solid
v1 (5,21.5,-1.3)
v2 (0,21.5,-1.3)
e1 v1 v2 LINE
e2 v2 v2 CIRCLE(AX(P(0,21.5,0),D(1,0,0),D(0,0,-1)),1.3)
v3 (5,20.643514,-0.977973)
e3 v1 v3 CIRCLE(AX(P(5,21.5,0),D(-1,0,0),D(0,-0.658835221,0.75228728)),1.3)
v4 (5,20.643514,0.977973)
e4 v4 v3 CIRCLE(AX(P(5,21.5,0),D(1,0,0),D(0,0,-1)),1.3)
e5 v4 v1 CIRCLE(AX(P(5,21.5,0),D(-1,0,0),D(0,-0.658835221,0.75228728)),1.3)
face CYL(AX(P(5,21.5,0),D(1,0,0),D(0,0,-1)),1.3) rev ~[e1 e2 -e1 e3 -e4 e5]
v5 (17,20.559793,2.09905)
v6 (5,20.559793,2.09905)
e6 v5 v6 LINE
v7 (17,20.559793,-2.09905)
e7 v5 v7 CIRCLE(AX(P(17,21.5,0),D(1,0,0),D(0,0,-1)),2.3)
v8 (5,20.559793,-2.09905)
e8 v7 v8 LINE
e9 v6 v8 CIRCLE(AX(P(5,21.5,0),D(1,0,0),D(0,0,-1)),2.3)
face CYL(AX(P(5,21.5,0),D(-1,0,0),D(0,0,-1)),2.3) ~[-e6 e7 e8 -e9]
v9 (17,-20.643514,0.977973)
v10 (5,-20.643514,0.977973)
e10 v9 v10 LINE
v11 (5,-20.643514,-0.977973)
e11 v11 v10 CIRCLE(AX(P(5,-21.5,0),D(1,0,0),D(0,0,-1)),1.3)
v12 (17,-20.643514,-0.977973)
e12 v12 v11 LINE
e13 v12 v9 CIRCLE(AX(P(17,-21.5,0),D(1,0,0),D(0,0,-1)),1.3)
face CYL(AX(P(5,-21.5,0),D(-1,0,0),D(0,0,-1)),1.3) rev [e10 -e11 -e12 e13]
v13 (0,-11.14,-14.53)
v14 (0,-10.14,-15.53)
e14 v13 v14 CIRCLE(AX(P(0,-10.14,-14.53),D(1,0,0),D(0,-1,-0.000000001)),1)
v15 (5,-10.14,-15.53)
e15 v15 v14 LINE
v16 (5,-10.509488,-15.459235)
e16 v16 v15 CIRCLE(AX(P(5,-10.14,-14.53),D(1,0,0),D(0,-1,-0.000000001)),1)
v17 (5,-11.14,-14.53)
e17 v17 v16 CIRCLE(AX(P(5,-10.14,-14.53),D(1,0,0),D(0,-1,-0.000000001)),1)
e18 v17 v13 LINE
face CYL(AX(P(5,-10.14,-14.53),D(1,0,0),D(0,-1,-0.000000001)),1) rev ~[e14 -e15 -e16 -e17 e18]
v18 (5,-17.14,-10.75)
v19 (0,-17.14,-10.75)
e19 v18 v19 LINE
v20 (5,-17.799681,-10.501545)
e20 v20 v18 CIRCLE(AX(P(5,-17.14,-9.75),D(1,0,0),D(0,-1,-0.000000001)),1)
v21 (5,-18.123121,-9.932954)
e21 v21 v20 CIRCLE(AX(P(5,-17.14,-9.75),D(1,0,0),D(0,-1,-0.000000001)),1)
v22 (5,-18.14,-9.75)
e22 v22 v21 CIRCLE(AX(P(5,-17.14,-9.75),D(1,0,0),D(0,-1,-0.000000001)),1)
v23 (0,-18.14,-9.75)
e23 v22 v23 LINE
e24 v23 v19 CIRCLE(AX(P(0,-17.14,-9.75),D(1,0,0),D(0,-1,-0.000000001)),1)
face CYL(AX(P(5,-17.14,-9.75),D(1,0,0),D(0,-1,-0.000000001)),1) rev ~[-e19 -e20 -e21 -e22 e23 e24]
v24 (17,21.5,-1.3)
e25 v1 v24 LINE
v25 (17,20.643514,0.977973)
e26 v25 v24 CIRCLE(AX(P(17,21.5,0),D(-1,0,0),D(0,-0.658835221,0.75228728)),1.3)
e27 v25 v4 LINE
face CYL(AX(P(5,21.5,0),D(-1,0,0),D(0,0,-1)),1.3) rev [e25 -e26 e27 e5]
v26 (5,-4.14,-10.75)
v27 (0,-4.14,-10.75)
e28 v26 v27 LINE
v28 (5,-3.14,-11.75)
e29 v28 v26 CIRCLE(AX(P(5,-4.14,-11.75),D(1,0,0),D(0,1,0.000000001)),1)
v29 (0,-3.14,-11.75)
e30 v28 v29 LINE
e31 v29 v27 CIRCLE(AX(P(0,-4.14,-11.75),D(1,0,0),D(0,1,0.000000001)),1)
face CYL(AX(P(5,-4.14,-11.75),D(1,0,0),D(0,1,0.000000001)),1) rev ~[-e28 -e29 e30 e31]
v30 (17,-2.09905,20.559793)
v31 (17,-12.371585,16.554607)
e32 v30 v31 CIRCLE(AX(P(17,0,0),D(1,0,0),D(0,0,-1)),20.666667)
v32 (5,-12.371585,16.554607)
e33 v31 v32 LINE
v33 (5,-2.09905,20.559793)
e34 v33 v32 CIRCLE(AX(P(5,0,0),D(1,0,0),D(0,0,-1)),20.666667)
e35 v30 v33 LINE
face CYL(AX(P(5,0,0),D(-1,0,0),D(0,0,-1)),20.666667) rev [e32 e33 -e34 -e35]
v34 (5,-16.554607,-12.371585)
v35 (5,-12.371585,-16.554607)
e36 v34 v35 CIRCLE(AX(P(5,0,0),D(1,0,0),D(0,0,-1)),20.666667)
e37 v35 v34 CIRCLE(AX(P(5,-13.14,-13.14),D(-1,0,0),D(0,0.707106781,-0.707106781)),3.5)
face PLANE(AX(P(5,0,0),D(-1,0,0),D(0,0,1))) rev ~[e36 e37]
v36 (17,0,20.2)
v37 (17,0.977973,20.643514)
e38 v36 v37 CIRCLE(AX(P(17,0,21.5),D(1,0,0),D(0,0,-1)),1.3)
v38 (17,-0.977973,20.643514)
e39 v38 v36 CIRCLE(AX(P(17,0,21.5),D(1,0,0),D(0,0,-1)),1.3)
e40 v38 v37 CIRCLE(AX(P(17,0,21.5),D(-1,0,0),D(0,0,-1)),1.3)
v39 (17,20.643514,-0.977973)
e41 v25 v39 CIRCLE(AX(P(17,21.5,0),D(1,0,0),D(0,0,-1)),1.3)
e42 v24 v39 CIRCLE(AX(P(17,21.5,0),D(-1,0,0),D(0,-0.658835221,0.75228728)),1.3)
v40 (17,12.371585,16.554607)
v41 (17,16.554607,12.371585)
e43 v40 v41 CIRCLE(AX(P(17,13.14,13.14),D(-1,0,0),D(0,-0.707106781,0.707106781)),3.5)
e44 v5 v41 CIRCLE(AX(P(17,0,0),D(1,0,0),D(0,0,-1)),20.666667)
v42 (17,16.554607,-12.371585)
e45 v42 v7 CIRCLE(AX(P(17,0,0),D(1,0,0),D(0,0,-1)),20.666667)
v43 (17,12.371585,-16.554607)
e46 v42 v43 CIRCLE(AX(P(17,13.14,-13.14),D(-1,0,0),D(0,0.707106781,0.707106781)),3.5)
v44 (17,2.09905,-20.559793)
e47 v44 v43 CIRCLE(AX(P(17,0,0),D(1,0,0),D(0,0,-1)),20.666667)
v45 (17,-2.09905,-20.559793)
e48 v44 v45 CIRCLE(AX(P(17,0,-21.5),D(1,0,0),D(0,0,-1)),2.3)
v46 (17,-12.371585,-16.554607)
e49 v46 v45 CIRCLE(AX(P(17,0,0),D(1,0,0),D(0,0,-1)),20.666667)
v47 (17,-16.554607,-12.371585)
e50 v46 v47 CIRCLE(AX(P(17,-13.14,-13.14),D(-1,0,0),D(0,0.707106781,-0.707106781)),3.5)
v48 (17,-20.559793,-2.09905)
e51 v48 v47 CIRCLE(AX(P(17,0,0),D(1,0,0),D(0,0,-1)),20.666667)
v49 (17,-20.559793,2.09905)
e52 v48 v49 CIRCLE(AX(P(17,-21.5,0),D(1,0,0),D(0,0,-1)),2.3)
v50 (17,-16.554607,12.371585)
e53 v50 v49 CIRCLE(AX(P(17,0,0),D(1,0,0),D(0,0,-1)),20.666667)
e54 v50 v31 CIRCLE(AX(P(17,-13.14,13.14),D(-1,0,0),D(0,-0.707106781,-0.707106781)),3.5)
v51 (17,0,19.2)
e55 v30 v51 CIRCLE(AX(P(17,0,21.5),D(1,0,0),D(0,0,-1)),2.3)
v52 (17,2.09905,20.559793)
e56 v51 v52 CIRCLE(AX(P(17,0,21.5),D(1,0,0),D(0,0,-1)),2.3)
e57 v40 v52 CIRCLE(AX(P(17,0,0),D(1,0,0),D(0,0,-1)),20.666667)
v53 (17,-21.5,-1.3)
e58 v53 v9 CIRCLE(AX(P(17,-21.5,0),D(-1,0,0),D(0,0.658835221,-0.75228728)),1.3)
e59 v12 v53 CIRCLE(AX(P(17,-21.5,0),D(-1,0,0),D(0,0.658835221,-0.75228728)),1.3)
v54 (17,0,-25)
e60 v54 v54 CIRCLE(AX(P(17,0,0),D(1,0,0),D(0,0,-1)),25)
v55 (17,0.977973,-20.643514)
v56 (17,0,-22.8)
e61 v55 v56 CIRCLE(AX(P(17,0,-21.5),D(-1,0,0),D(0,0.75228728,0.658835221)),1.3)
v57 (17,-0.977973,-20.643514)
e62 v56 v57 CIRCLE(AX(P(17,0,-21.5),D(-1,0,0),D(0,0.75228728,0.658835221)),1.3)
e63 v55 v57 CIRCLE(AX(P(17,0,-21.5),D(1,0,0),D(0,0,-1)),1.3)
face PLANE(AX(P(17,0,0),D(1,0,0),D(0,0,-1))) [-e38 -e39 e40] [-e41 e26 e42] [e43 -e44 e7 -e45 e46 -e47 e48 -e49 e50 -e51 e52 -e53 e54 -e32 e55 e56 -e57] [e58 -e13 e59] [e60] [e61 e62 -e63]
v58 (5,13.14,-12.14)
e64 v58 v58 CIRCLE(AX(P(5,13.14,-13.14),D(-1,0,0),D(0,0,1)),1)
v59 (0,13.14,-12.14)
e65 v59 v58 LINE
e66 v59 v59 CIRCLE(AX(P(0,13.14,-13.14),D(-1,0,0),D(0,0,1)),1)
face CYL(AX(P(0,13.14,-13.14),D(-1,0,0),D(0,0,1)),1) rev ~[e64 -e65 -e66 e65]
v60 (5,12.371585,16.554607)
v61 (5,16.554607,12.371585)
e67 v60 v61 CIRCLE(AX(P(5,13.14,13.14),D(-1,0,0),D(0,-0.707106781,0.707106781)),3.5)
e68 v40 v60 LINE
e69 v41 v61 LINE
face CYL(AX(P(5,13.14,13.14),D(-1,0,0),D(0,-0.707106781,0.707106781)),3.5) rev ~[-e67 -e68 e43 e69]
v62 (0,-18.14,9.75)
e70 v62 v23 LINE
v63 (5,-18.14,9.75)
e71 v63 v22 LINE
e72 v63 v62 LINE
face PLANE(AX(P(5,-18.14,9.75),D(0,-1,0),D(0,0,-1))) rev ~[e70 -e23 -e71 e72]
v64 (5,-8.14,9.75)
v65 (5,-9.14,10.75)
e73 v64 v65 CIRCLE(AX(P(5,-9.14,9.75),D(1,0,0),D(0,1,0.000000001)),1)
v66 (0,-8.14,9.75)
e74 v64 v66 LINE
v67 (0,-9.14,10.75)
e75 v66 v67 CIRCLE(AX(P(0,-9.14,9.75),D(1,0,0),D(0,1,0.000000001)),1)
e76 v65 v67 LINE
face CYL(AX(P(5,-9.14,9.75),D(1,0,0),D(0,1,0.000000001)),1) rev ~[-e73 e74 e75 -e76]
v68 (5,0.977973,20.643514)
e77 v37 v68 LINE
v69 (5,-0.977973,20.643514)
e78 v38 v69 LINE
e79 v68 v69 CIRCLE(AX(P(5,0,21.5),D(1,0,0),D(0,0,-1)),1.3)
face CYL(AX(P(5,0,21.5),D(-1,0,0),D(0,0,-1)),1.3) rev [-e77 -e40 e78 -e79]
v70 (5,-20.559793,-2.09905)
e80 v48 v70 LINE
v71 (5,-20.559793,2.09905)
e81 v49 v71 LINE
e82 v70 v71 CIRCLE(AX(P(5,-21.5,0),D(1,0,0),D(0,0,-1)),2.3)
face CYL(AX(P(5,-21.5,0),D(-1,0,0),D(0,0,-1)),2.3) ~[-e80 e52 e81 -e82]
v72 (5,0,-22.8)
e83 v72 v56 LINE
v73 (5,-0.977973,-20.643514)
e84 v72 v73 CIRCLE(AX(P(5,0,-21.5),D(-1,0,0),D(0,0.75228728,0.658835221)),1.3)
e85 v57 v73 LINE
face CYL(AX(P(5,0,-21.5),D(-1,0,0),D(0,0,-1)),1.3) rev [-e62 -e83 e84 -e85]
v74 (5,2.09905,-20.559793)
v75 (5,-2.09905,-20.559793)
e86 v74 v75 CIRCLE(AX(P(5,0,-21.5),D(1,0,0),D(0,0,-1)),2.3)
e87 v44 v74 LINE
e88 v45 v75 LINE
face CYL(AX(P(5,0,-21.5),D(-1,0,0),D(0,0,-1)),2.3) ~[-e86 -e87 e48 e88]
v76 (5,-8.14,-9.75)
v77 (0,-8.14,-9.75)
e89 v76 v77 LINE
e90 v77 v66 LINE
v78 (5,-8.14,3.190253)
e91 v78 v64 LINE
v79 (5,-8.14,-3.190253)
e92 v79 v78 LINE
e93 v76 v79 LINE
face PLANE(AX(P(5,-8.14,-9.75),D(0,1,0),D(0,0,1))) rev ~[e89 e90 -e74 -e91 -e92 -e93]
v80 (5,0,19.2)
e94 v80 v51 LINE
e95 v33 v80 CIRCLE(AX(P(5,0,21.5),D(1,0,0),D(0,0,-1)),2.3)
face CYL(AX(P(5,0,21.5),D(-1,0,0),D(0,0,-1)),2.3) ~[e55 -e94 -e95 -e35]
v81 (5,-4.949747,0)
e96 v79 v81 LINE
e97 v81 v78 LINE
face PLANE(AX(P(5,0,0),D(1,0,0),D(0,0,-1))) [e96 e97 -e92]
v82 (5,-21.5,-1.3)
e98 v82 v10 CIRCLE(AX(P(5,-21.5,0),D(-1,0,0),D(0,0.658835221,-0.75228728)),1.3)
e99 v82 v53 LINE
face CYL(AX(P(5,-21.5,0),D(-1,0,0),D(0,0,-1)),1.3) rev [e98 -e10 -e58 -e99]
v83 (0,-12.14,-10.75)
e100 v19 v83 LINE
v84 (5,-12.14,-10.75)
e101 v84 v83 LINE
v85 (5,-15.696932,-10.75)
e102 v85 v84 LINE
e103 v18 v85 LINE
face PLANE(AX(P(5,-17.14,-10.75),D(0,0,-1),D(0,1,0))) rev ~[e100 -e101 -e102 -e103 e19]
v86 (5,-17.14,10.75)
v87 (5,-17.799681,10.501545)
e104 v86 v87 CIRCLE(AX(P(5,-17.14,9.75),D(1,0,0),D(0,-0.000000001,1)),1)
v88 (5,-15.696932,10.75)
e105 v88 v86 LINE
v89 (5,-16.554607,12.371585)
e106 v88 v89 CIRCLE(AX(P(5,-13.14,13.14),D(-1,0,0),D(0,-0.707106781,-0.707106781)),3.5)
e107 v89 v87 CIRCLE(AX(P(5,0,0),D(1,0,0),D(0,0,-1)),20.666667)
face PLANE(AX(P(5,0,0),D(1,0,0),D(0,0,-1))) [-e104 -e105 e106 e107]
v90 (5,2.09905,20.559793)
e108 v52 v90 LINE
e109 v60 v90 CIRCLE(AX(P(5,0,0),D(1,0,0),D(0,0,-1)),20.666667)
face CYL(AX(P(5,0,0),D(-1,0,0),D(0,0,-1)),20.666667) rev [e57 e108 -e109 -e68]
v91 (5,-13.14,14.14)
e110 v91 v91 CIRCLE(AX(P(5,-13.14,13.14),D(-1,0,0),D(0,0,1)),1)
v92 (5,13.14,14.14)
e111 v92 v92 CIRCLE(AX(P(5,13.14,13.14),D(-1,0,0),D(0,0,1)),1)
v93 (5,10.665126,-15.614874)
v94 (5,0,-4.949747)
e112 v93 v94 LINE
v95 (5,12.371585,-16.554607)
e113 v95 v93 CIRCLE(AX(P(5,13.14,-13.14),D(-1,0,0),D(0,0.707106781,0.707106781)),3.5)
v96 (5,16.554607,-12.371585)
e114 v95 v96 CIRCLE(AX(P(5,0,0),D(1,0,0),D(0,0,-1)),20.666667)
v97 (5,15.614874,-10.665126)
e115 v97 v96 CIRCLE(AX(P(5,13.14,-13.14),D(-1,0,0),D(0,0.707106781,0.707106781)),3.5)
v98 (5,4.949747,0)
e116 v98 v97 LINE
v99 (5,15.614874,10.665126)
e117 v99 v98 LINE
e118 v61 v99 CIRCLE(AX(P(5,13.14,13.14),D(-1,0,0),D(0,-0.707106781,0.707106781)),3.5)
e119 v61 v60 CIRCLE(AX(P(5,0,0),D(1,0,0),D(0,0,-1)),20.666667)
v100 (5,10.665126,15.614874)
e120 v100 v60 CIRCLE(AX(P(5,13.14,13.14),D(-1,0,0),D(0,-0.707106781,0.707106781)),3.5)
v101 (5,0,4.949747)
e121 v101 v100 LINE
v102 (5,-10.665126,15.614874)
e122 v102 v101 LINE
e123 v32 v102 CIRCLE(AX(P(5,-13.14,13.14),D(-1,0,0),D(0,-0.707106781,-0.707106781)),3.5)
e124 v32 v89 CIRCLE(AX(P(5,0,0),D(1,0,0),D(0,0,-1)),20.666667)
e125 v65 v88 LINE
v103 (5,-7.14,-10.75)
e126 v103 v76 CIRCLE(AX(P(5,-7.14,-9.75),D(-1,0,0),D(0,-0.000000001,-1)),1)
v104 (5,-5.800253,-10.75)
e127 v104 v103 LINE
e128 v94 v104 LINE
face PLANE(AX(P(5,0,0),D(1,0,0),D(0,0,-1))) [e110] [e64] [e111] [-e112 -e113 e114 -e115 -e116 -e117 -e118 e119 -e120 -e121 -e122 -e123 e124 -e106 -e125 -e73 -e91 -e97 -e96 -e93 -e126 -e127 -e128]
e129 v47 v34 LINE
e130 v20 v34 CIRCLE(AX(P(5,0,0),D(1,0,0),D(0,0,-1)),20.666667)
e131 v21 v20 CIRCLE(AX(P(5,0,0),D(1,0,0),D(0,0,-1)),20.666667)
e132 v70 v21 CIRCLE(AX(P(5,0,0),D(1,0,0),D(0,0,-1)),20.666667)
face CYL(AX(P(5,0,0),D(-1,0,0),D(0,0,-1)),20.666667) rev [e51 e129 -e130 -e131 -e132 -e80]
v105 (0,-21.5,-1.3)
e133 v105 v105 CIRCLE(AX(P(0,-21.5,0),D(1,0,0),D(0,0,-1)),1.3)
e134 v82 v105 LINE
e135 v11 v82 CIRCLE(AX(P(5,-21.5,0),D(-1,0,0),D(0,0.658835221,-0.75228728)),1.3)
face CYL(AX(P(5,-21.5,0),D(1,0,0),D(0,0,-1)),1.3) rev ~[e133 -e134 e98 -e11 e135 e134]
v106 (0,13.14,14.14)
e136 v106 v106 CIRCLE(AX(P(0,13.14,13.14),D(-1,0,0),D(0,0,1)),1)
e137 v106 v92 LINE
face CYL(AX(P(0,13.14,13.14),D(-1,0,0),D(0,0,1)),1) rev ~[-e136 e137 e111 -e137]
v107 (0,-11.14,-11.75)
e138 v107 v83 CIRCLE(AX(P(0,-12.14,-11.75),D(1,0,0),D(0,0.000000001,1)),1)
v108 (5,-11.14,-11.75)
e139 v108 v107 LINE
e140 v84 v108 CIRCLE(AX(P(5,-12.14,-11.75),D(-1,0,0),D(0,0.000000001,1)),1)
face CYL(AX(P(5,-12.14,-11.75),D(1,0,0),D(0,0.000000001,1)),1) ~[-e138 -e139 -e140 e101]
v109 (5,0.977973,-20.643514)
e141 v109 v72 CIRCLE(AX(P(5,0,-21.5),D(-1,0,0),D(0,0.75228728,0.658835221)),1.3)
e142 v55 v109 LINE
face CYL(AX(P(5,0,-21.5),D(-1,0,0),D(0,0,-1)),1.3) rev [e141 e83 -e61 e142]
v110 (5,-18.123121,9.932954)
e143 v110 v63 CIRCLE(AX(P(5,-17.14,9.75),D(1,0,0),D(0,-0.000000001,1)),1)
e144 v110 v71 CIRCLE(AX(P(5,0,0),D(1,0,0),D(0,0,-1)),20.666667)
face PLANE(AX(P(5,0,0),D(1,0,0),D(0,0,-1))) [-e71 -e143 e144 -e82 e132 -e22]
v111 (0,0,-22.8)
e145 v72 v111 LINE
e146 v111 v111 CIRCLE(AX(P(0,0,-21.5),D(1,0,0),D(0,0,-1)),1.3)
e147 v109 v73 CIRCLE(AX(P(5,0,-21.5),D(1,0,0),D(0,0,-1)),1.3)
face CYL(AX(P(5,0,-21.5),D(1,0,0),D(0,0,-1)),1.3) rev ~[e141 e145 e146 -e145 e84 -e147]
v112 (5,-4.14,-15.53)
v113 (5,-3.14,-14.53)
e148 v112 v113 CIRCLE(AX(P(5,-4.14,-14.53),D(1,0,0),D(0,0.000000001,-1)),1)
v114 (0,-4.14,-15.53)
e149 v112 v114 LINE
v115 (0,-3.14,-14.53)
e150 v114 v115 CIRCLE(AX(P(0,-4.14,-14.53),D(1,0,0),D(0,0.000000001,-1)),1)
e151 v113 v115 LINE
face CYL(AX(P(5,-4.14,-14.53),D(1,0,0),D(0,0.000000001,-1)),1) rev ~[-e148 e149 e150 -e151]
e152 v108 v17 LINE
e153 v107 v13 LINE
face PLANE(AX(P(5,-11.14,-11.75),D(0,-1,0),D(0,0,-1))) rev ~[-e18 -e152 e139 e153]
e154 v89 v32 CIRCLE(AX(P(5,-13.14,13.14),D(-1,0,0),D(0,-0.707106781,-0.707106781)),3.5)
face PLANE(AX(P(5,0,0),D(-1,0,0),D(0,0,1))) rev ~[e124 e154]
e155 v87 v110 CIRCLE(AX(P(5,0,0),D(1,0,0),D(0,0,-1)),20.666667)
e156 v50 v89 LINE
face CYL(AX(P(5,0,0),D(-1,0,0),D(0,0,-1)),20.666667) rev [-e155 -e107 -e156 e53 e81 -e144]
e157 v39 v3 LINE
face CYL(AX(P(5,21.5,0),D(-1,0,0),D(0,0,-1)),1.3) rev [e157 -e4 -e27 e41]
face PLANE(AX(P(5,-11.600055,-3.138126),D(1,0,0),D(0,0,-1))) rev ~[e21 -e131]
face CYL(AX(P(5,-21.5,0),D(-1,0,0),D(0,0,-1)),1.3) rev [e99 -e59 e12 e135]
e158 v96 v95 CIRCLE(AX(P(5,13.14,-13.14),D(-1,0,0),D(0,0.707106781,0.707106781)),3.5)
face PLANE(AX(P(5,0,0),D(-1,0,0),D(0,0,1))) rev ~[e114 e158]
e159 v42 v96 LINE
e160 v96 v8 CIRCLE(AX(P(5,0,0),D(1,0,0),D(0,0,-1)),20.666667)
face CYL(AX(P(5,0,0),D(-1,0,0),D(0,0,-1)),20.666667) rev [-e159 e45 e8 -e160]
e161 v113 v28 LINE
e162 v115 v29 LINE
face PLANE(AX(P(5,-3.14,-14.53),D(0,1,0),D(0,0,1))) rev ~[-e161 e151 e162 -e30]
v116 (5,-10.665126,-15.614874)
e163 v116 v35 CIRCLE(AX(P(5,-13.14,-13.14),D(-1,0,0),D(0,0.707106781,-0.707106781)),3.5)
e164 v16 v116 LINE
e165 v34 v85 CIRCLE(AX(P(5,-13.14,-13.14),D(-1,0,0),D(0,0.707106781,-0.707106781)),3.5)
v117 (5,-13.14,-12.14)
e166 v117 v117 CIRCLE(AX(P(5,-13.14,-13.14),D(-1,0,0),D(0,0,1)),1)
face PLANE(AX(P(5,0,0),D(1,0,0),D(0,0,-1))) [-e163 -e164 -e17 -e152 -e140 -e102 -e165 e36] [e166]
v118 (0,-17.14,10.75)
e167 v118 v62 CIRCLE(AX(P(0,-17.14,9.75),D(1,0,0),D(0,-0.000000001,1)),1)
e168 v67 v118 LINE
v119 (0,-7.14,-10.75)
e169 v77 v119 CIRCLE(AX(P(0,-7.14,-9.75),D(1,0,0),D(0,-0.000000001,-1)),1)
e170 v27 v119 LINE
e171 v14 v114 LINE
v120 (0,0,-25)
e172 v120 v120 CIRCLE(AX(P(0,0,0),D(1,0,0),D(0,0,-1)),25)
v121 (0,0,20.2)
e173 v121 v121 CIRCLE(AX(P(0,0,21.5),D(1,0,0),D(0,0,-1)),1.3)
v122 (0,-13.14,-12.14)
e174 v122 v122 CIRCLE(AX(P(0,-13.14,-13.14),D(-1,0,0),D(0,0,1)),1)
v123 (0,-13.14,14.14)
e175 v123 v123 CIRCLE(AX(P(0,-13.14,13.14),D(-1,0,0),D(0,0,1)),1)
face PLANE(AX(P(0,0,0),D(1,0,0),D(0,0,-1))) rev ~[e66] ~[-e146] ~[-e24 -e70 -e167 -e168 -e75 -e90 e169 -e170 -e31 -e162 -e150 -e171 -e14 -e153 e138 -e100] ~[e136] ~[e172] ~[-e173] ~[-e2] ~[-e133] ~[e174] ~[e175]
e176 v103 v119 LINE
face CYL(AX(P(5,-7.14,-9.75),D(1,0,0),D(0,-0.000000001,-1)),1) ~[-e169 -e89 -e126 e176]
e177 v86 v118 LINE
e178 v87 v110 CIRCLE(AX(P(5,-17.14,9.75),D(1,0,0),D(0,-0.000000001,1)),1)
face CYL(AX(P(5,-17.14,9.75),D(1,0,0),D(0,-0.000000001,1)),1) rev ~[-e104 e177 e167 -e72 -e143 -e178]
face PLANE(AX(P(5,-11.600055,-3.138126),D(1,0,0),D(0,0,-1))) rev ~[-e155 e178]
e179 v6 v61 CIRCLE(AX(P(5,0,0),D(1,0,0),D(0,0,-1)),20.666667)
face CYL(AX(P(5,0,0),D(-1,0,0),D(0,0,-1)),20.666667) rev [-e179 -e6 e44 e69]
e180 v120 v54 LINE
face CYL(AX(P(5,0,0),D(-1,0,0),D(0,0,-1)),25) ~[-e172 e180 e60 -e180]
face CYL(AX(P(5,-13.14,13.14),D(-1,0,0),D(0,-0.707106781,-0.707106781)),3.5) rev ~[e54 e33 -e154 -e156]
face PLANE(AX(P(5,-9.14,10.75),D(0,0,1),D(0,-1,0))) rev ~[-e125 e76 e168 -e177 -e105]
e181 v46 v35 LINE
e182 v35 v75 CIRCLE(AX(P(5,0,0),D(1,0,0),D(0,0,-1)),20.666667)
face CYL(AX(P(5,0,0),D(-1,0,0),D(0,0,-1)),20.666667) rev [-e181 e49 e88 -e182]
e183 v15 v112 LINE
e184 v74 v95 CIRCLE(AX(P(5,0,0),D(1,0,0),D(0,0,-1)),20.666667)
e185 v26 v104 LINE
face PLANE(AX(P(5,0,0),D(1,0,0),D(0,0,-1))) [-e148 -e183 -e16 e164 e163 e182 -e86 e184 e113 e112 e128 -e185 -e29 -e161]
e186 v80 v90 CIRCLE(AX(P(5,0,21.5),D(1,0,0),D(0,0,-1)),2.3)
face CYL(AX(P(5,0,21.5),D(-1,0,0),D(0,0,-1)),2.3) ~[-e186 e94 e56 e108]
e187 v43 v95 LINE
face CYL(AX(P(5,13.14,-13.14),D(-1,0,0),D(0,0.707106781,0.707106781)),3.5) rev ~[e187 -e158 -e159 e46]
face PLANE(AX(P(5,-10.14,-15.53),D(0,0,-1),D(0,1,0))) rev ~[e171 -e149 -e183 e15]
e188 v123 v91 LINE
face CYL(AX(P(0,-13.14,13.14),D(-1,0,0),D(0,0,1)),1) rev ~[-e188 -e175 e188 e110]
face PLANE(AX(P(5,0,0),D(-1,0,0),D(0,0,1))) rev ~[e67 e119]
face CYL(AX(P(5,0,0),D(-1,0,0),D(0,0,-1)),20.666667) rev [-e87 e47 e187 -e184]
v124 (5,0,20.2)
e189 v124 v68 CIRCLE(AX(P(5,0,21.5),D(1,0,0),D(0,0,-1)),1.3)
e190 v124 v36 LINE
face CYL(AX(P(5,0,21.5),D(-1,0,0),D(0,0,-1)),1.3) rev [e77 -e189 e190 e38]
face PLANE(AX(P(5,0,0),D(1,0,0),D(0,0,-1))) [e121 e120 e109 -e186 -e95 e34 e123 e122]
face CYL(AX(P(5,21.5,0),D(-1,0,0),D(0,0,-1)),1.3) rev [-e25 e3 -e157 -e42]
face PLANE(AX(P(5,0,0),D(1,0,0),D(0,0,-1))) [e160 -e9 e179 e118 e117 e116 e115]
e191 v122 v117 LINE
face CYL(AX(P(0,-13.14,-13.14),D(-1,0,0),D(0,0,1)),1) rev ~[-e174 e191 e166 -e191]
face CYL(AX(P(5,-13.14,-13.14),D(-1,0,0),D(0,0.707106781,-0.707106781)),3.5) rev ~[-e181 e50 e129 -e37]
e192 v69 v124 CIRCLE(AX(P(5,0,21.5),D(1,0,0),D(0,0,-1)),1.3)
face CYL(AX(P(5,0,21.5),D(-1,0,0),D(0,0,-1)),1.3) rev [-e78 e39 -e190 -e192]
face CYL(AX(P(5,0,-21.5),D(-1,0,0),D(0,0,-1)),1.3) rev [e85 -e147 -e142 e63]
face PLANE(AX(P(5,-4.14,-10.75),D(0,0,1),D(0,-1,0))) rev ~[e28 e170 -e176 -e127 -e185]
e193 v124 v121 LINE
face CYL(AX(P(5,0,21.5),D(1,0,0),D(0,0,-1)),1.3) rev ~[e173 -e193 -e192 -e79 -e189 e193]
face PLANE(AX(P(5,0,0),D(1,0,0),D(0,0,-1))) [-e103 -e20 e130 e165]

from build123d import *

# Parameters (mm, degrees)
SKETCH1_R               = 25
BOSS_EXTRUDE1_DEPTH     = 5
SKETCH3_R               = 1
CUT_EXTRUDE2_DEPTH      = 6
SKETCH4_R               = 25
SKETCH4_R_2             = 20.666666667
BOSS_EXTRUDE2_DEPTH     = 12
SKETCH2_R               = 1.3
CUT_EXTRUDE1_DEPTH      = 13
CUT_EXTRUDE1_DEPTH_BACK = 6
CUT_EXTRUDE3_DEPTH      = 6
CUT_EXTRUDE5_DEPTH      = 13
SKETCH8_R               = 2.3
SKETCH8_R_2             = 1.3
BOSS_EXTRUDE3_DEPTH     = 12


with BuildPart() as part:
    # Sketch1 → Boss-Extrude1 (new body)
    with BuildSketch(Plane(origin=(0, 0, 0), x_dir=(0, 0, -1), z_dir=(1, 0, 0))):
        Circle(SKETCH1_R)
    extrude(amount=BOSS_EXTRUDE1_DEPTH)

    # Sketch3 → Cut-Extrude2 (cut, through all)
    with BuildSketch(Plane.ZY):
        with Locations((-13.14, 13.14)):
            Circle(SKETCH3_R)
        with Locations((13.14, 13.14)):
            Circle(SKETCH3_R)
        with Locations((13.14, -13.14)):
            Circle(SKETCH3_R)
        with Locations((-13.14, -13.14)):
            Circle(SKETCH3_R)
    extrude(amount=-CUT_EXTRUDE2_DEPTH, mode=Mode.SUBTRACT)

    # Sketch4 → Boss-Extrude2 (add)
    with BuildSketch(Plane(origin=(5, 0, 0), x_dir=(0, 0, -1), z_dir=(1, 0, 0))):
        Circle(SKETCH4_R)
        Circle(SKETCH4_R_2, mode=Mode.SUBTRACT)
    extrude(amount=BOSS_EXTRUDE2_DEPTH)

    # Sketch2 → Cut-Extrude1 (cut, two sides)
    with BuildSketch(Plane(origin=(5, 0, 0), x_dir=(0, 0, -1), z_dir=(1, 0, 0))) as cut_extrude1_sk:
        with Locations((0, 21.5)):
            Circle(SKETCH2_R)
        with Locations((21.5, 0)):
            Circle(SKETCH2_R)
        with Locations((0, -21.5)):
            Circle(SKETCH2_R)
        with Locations((-21.5, 0)):
            Circle(SKETCH2_R)
    extrude(amount=CUT_EXTRUDE1_DEPTH, mode=Mode.SUBTRACT)
    extrude(cut_extrude1_sk.sketch, amount=-CUT_EXTRUDE1_DEPTH_BACK, mode=Mode.SUBTRACT)

    # Sketch5 → Cut-Extrude3 (cut, through all)
    with BuildSketch(Plane(origin=(5, 0, 0), x_dir=(0, 0, -1), z_dir=(1, 0, 0))):
        with BuildLine():
            Line((9.75, -8.14), (-9.75, -8.14))
            ThreePointArc((-9.75, -8.14), (-10.457106781, -8.432893219), (-10.75, -9.14))
            Line((-10.75, -9.14), (-10.75, -17.14))
            ThreePointArc((-10.75, -17.14), (-10.457106781, -17.847106781), (-9.75, -18.14))
            Line((-9.75, -18.14), (9.75, -18.14))
            ThreePointArc((9.75, -18.14), (10.457106781, -17.847106781), (10.75, -17.14))
            Line((10.75, -17.14), (10.75, -12.14))
            ThreePointArc((10.75, -12.14), (11.042893219, -11.432893219), (11.75, -11.14))
            Line((11.75, -11.14), (14.53, -11.14))
            ThreePointArc((14.53, -11.14), (15.237106781, -10.847106781), (15.53, -10.14))
            Line((15.53, -10.14), (15.53, -4.14))
            ThreePointArc((15.53, -4.14), (15.237106781, -3.432893219), (14.53, -3.14))
            Line((14.53, -3.14), (11.75, -3.14))
            ThreePointArc((11.75, -3.14), (11.042893219, -3.432893219), (10.75, -4.14))
            Line((10.75, -4.14), (10.75, -7.14))
            ThreePointArc((10.75, -7.14), (10.457106781, -7.847106781), (9.75, -8.14))
        make_face()
    extrude(amount=-CUT_EXTRUDE3_DEPTH, mode=Mode.SUBTRACT)

    # Sketch7 → Cut-Extrude5 (cut, through all)
    with BuildSketch(Plane(origin=(5, 0, 0), x_dir=(0, 0, -1), z_dir=(1, 0, 0))):
        with BuildLine():
            Line((-10.665126266, 15.614873734), (0, 4.949747468))
            Line((0, 4.949747468), (10.665126266, 15.614873734))
            ThreePointArc((10.665126266, 15.614873734), (15.614873734, 15.614873734), (15.614873734, 10.665126266))
            Line((15.614873734, 10.665126266), (4.949747468, 0))
            Line((4.949747468, 0), (15.614873734, -10.665126266))
            ThreePointArc((15.614873734, -10.665126266), (15.614873734, -15.614873734), (10.665126266, -15.614873734))
            Line((10.665126266, -15.614873734), (0, -4.949747468))
            Line((0, -4.949747468), (-10.665126266, -15.614873734))
            ThreePointArc((-10.665126266, -15.614873734), (-15.614873734, -15.614873734), (-15.614873734, -10.665126266))
            Line((-15.614873734, -10.665126266), (-4.949747468, 0))
            Line((-4.949747468, 0), (-15.614873734, 10.665126266))
            ThreePointArc((-15.614873734, 10.665126266), (-15.614873734, 15.614873734), (-10.665126266, 15.614873734))
        make_face()
    extrude(amount=CUT_EXTRUDE5_DEPTH, mode=Mode.SUBTRACT)

    # Sketch8 → Boss-Extrude3 (add)
    with BuildSketch(Plane(origin=(5, 0, 0), x_dir=(0, 0, -1), z_dir=(1, 0, 0))):
        with Locations((0, -21.5)):
            Circle(SKETCH8_R)
        with Locations((0, -21.5)):
            Circle(SKETCH8_R_2, mode=Mode.SUBTRACT)
        with Locations((-21.5, 0)):
            Circle(SKETCH8_R)
        with Locations((-21.5, 0)):
            Circle(SKETCH8_R_2, mode=Mode.SUBTRACT)
        with Locations((0, 21.5)):
            Circle(SKETCH8_R)
        with Locations((0, 21.5)):
            Circle(SKETCH8_R_2, mode=Mode.SUBTRACT)
        with Locations((21.5, 0)):
            Circle(SKETCH8_R)
        with Locations((21.5, 0)):
            Circle(SKETCH8_R_2, mode=Mode.SUBTRACT)
    extrude(amount=BOSS_EXTRUDE3_DEPTH)


solid = part.part
